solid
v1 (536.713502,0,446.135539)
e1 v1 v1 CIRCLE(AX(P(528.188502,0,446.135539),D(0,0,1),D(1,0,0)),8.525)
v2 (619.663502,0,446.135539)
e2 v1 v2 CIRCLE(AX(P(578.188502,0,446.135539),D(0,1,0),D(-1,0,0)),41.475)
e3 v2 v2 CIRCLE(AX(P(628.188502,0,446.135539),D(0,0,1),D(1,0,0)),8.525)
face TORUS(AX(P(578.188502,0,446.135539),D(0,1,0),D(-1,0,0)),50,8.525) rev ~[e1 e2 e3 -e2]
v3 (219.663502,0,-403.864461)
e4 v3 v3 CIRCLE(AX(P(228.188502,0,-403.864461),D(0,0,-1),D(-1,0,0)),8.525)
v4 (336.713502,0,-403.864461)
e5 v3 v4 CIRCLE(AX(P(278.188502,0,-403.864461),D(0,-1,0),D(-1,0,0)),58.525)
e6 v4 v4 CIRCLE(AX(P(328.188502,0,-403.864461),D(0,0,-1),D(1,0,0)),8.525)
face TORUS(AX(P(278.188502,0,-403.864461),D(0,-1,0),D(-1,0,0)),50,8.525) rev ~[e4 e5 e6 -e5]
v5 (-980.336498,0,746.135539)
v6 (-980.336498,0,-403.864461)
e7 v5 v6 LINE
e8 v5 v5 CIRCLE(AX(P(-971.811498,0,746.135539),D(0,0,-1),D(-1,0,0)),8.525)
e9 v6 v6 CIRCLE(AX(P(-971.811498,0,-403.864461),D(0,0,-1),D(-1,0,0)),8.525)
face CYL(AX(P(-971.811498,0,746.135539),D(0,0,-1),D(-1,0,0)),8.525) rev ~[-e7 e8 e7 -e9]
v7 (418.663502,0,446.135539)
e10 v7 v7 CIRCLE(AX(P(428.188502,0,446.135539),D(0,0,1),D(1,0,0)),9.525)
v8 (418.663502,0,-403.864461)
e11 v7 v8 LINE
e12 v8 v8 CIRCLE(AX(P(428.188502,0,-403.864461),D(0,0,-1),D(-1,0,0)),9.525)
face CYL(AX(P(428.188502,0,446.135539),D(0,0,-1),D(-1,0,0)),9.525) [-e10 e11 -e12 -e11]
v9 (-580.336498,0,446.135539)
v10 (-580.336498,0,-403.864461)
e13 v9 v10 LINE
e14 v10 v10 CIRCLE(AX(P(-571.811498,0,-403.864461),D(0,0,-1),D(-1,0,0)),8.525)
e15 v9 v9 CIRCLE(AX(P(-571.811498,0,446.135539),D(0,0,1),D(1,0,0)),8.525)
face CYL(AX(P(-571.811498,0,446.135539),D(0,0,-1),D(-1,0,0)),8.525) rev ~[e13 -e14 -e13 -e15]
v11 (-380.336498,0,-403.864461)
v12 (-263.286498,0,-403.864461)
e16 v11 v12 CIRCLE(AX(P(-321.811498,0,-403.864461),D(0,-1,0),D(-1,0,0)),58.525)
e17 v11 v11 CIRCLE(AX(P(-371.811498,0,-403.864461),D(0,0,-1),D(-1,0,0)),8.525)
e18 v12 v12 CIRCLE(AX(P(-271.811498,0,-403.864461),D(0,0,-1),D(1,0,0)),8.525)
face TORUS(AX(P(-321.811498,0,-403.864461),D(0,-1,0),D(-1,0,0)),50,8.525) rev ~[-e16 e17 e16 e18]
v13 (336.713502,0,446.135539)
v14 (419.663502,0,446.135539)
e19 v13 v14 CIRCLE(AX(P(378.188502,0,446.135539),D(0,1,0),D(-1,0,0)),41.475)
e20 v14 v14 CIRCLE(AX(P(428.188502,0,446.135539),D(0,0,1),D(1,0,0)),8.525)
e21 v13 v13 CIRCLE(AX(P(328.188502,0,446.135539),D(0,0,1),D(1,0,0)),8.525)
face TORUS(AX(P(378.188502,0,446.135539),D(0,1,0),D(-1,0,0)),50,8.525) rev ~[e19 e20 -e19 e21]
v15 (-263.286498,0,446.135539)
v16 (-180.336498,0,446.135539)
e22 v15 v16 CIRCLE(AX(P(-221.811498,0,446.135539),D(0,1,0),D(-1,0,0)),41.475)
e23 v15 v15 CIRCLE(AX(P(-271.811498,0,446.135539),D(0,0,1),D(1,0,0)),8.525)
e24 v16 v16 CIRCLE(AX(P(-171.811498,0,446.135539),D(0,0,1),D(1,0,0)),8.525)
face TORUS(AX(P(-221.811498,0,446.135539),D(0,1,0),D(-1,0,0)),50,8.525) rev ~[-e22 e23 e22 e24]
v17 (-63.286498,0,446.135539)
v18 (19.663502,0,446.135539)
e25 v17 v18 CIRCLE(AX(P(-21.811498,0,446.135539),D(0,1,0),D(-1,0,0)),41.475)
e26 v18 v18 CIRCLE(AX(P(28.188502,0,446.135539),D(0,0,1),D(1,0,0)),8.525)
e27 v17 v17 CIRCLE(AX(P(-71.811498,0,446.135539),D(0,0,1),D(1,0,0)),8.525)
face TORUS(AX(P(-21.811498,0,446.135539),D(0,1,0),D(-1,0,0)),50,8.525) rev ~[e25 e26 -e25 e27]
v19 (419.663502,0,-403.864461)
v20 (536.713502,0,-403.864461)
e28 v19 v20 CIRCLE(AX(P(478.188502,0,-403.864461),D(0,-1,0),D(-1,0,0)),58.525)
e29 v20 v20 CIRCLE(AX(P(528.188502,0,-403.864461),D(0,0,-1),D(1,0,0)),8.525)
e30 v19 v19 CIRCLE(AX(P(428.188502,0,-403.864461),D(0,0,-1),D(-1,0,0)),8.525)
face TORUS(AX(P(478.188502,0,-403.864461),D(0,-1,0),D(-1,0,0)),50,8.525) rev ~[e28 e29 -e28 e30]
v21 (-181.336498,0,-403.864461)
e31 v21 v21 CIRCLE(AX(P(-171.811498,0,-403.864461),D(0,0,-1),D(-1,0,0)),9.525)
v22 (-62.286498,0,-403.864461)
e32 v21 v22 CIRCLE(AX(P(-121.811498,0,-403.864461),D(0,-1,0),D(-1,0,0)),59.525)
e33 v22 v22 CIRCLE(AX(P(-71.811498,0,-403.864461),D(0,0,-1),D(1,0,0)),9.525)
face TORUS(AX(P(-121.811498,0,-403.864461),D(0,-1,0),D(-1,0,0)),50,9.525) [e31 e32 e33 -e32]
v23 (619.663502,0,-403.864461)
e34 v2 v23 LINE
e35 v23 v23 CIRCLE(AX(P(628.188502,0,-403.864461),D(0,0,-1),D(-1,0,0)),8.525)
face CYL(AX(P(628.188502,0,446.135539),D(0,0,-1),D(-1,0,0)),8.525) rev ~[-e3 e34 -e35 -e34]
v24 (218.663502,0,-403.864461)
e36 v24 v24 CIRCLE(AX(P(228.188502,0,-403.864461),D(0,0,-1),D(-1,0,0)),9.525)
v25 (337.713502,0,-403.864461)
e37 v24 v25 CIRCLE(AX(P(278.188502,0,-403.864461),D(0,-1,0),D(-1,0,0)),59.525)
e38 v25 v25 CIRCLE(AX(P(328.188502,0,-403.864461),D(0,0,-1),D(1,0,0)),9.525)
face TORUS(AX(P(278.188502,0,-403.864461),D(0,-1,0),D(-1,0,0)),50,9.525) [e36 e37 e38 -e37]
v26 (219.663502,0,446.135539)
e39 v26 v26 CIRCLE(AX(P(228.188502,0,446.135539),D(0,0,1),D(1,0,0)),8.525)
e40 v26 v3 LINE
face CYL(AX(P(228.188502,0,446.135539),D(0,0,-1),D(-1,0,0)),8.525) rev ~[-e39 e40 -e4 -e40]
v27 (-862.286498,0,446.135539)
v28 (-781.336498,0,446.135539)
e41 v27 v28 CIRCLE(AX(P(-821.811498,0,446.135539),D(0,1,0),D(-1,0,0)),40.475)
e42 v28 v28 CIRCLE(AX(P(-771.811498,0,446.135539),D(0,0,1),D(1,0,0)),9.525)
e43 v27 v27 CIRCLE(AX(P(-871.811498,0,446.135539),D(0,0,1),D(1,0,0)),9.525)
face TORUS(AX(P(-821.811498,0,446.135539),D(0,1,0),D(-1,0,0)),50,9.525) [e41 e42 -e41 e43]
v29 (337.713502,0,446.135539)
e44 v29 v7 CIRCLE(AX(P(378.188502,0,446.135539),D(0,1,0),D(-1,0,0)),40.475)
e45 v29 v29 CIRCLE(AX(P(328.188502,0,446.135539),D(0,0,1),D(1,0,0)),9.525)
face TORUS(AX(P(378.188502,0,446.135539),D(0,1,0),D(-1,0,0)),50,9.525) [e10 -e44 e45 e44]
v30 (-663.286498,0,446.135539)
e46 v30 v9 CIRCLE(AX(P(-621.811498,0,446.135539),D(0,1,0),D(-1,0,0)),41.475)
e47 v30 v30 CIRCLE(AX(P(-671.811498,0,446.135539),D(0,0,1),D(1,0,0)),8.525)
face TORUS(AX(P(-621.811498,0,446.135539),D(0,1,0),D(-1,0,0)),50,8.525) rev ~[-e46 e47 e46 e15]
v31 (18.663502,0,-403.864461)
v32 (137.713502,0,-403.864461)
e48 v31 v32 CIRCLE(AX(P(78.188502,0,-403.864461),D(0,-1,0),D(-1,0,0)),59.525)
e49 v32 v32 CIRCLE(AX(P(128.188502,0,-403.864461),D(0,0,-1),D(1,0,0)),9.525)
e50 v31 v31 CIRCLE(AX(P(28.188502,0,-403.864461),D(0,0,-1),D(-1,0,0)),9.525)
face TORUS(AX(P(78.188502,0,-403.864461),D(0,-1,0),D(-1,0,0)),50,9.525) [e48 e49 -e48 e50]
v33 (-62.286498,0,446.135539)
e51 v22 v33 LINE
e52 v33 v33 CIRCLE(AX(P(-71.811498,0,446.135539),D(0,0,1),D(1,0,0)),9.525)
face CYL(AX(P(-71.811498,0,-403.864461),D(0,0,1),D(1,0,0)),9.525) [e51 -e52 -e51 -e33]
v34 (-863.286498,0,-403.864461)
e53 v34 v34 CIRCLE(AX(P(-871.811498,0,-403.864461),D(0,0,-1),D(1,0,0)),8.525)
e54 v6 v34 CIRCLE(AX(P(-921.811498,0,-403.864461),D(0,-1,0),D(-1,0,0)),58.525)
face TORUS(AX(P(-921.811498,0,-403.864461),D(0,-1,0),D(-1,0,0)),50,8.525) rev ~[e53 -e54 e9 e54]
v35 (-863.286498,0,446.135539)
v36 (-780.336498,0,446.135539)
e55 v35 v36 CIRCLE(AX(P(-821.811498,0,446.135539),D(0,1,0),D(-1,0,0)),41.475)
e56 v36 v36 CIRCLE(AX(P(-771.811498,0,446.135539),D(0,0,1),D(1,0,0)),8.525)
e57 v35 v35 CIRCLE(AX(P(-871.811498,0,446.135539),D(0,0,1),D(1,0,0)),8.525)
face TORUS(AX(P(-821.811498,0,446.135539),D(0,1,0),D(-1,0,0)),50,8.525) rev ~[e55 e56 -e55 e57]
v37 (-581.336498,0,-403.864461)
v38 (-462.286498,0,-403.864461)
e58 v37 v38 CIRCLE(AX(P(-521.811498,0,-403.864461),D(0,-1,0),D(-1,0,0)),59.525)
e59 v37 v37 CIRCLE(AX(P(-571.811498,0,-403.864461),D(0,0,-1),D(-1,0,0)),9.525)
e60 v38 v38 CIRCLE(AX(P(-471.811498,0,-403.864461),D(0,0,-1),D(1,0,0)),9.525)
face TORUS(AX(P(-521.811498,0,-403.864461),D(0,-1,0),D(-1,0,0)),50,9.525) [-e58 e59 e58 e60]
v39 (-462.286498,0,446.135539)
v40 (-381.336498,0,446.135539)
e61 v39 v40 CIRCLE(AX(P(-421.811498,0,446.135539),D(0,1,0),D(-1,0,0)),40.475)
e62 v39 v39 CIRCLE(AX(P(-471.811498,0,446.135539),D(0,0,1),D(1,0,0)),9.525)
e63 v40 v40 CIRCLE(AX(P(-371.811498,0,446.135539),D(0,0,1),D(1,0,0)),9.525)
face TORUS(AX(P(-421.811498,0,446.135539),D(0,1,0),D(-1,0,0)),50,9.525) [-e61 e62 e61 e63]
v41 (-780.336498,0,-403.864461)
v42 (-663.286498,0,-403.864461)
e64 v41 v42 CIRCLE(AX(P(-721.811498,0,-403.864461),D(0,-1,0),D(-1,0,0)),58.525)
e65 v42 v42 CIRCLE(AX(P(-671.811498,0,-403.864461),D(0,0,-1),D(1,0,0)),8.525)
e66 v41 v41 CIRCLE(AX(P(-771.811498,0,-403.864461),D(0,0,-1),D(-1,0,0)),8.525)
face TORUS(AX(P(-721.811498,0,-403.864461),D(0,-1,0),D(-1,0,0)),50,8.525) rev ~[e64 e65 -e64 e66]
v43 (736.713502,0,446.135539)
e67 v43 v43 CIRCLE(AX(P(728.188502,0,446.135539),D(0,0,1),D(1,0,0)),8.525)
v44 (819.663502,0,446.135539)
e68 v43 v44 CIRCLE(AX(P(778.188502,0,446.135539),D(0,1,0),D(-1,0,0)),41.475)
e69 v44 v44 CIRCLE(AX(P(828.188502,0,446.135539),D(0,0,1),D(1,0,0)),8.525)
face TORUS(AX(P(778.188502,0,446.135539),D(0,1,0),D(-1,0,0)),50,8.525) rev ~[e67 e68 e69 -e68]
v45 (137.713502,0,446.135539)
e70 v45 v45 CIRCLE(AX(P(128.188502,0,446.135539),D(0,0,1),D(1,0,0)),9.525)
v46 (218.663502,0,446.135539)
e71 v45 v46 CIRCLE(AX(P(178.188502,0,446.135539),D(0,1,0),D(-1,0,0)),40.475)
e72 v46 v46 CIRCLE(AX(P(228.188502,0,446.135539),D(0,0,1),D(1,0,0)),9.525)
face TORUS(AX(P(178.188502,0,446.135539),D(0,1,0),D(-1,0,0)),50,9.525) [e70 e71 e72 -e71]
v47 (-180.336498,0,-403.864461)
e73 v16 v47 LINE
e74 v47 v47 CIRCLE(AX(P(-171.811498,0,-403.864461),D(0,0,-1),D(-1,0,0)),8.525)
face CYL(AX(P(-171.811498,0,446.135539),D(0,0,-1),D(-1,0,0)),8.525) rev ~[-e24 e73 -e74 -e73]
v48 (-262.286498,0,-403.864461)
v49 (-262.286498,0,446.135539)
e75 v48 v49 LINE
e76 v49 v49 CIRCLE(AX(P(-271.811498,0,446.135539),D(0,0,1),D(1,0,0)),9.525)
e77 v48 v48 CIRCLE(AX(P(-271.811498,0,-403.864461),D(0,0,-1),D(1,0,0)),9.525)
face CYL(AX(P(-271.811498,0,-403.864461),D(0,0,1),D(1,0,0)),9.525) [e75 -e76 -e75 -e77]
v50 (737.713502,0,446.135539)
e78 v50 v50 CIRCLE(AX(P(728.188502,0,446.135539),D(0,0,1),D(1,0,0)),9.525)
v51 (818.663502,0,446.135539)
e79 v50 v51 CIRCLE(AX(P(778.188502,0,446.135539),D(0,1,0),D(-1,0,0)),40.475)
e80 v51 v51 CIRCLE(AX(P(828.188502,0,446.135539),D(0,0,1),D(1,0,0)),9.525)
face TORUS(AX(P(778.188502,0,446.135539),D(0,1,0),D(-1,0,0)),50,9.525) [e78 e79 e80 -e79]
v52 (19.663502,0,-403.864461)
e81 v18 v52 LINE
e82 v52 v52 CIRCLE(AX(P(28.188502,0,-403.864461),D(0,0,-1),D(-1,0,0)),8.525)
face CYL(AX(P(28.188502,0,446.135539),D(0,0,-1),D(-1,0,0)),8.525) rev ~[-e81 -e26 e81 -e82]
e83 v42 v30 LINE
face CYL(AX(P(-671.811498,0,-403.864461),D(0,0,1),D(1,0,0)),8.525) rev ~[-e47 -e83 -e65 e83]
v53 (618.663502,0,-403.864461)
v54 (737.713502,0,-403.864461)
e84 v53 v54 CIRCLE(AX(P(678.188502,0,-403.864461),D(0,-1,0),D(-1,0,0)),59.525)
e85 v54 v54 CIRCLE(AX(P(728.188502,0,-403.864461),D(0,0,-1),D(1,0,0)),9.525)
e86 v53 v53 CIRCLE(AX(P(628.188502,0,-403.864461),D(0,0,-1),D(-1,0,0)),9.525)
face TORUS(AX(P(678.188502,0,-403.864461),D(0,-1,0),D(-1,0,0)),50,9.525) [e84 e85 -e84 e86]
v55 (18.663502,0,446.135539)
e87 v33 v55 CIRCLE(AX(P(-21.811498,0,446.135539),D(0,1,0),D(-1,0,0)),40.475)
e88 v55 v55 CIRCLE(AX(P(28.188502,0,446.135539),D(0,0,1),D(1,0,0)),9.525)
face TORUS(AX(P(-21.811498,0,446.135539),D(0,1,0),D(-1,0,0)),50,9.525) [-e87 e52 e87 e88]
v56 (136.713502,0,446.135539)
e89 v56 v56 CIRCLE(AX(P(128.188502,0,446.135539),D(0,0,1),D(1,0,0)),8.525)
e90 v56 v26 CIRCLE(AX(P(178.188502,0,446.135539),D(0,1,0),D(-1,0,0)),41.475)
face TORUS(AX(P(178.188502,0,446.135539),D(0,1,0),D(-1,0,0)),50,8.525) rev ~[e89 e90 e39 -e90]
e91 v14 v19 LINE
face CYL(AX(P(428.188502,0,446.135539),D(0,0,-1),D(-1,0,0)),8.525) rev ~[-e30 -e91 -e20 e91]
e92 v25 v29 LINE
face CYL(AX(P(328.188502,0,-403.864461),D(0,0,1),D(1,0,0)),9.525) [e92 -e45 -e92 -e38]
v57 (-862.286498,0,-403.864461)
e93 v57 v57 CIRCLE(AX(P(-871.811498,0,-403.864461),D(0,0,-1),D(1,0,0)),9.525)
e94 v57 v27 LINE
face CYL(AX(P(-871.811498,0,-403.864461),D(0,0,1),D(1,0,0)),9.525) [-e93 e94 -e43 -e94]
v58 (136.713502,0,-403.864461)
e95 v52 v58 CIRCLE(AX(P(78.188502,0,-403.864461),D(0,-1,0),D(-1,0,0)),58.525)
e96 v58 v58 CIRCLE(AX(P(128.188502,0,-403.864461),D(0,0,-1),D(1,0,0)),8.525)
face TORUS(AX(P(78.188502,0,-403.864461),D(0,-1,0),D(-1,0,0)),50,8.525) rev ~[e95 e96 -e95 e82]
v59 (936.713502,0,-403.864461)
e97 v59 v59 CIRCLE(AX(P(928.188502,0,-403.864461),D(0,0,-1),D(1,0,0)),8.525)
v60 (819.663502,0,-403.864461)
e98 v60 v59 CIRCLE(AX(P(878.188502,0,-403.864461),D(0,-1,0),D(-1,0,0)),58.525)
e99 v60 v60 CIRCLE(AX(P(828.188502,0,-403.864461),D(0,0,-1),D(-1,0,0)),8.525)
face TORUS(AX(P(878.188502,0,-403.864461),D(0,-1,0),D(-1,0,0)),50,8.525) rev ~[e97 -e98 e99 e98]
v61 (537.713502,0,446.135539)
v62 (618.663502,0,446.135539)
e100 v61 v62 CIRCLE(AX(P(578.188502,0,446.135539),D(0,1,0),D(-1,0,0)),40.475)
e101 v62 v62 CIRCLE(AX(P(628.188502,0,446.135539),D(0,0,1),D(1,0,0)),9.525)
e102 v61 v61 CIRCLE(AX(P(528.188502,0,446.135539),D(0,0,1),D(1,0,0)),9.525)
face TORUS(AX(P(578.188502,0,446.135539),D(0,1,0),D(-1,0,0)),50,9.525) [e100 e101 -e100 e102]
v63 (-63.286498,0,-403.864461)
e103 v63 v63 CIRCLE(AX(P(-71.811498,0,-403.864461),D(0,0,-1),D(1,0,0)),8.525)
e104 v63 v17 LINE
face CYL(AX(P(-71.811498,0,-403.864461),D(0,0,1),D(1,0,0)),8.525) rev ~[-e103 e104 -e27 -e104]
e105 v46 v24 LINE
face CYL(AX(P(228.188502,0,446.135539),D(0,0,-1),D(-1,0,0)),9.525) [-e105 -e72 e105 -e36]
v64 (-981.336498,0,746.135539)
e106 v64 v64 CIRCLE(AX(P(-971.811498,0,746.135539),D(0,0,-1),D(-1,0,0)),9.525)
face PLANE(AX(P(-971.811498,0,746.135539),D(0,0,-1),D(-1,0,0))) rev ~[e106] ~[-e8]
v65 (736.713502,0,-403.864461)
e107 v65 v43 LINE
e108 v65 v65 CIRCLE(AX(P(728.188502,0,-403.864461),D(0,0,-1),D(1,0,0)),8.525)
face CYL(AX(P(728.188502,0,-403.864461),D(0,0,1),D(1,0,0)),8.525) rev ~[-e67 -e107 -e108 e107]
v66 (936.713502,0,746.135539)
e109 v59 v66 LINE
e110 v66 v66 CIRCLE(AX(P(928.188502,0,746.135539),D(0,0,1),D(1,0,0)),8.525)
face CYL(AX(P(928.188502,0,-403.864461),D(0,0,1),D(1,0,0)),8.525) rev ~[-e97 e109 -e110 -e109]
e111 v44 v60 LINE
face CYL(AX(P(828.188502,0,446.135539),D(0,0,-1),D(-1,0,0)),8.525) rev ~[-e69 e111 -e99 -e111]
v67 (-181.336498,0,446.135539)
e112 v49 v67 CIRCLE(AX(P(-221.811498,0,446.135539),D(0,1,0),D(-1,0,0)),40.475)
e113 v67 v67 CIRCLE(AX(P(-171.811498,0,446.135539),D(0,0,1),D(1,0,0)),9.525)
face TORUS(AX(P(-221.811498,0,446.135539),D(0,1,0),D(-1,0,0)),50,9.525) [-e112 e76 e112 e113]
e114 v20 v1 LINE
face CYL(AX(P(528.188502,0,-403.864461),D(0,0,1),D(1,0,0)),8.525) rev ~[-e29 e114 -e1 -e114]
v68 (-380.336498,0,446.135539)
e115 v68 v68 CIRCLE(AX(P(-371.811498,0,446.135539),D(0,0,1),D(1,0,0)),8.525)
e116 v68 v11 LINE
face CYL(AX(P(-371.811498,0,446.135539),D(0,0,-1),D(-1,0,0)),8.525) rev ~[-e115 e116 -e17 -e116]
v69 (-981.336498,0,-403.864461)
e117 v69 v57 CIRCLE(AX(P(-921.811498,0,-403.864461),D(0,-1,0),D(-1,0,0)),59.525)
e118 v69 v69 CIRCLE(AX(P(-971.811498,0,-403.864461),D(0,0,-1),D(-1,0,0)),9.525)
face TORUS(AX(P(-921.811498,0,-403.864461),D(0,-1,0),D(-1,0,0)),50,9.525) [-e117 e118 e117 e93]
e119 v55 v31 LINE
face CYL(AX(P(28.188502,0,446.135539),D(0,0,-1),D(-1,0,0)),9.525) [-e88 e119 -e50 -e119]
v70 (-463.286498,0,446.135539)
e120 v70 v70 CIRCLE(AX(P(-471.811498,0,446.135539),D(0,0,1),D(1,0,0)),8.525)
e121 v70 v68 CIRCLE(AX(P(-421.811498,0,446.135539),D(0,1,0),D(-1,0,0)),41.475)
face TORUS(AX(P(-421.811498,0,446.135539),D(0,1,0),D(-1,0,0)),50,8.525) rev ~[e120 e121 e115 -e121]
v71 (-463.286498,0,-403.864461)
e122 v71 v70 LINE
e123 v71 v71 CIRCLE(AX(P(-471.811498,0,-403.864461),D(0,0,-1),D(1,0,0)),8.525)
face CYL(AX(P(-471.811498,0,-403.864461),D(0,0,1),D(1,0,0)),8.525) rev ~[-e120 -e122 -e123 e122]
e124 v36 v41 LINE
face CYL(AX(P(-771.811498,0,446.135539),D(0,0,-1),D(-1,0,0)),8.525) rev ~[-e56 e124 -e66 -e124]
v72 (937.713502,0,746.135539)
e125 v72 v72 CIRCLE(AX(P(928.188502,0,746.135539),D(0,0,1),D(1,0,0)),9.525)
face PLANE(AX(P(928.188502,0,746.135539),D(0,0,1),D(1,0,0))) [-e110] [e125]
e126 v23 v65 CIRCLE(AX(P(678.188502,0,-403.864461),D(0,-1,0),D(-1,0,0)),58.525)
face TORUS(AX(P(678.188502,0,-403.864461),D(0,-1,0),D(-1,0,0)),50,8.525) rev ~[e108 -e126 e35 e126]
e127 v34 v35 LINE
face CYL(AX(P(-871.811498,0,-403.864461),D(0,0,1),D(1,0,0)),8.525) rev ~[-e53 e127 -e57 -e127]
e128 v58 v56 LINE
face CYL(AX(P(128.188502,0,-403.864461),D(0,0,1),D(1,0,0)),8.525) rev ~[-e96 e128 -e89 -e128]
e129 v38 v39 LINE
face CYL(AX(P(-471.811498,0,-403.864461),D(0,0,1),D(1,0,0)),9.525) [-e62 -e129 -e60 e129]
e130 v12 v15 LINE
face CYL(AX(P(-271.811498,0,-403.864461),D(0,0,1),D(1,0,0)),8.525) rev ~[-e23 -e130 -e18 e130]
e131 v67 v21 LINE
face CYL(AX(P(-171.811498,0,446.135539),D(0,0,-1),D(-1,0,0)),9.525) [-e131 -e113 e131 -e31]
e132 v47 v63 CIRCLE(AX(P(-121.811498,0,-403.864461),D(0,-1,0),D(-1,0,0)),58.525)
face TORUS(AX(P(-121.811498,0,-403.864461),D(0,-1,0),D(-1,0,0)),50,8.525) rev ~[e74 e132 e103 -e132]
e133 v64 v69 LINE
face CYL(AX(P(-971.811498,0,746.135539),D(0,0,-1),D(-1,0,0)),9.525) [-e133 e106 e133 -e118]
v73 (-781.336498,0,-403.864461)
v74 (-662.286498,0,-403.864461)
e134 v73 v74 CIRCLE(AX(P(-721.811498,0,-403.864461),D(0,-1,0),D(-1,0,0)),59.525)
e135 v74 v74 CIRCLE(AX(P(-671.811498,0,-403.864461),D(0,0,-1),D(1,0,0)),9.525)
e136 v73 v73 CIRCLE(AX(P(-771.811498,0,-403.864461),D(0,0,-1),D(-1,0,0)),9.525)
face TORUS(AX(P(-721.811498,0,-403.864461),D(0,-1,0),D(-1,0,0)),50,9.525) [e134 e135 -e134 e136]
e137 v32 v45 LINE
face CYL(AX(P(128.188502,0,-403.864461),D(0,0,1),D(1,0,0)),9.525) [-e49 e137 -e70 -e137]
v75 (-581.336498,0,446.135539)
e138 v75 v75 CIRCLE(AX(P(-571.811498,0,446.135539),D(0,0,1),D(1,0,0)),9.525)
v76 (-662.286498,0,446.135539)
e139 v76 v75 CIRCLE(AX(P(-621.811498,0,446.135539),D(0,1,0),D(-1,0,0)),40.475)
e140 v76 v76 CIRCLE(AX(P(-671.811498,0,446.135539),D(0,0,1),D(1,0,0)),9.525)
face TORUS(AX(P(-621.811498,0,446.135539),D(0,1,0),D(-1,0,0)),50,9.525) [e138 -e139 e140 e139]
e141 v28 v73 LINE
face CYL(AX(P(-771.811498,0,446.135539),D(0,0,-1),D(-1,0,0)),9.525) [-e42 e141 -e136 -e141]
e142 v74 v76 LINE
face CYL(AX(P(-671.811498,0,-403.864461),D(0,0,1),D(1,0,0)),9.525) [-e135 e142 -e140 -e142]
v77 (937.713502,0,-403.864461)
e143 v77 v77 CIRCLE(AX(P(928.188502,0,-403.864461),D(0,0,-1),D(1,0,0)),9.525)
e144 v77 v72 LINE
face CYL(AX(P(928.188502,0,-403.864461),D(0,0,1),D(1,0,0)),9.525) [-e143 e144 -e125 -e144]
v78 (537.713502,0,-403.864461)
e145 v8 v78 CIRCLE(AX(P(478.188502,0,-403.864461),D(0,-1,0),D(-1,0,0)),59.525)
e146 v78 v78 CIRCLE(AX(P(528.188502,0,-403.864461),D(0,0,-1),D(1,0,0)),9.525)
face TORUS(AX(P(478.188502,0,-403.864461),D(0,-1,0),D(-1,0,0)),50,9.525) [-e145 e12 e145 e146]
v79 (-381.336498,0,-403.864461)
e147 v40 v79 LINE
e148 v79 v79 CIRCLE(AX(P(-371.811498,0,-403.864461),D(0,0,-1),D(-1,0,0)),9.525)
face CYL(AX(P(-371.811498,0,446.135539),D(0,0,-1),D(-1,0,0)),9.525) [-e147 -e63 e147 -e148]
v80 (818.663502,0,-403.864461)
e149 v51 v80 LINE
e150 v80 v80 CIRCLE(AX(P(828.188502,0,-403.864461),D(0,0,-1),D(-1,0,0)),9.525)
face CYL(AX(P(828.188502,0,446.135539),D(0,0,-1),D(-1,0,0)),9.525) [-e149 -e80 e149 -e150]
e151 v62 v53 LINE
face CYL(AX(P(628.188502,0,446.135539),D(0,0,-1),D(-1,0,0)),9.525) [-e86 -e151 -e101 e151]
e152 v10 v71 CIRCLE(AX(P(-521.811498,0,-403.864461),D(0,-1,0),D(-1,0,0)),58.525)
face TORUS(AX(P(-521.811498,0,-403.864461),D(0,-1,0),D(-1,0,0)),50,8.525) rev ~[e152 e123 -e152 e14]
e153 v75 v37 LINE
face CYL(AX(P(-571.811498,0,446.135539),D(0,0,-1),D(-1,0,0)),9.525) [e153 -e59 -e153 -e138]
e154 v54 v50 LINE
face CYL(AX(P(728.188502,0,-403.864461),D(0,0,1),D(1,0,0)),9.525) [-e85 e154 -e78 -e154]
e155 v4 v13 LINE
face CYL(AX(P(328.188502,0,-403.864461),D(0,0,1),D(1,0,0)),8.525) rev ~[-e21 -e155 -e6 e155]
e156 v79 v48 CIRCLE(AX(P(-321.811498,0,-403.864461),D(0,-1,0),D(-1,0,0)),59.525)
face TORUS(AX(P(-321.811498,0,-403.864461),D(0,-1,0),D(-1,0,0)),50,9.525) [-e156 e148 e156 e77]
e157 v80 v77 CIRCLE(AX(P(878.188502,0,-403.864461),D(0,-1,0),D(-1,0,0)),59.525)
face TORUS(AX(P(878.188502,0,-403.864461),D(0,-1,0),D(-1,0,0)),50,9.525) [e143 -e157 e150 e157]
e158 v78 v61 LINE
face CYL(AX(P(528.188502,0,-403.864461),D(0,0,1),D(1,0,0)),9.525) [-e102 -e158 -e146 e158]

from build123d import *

# Parameters (mm, degrees)
SWEEP_THIN1_PROFILE_R   = 9.525
SWEEP_THIN1_PROFILE_R_2 = 8.525


with BuildPart() as part:
    # Sweep-Thin1: sweep along a path in Sketch4
    with BuildLine(Plane(origin=(0, 0, 0), x_dir=(1, 0, 0), z_dir=(0, 1, 0))) as sweep_thin1_path:
        Line((-971.811497652, -746.135539322), (-971.811497652, -446.135539322))
        Line((-971.811497652, -446.135539322), (-971.811497652, 403.864460678))
        ThreePointArc((-971.811497652, 403.864460678), (-921.811497652, 453.864460678), (-871.811497652, 403.864460678))
        Line((-871.811497652, 403.864460678), (-871.811497652, -446.135539322))
        ThreePointArc((-871.811497652, -446.135539322), (-821.811497652, -496.135539322), (-771.811497652, -446.135539322))
        Line((-771.811497652, -446.135539322), (-771.811497652, 403.864460678))
        ThreePointArc((-771.811497652, 403.864460678), (-721.811497652, 453.864460678), (-671.811497652, 403.864460678))
        Line((-671.811497652, 403.864460678), (-671.811497652, -446.135539322))
        ThreePointArc((-671.811497652, -446.135539322), (-621.811497652, -496.135539322), (-571.811497652, -446.135539322))
        Line((-571.811497652, -446.135539322), (-571.811497652, 403.864460678))
        ThreePointArc((-571.811497652, 403.864460678), (-521.811497652, 453.864460678), (-471.811497652, 403.864460678))
        Line((-471.811497652, 403.864460678), (-471.811497652, -446.135539322))
        ThreePointArc((-471.811497652, -446.135539322), (-421.811497652, -496.135539322), (-371.811497652, -446.135539322))
        Line((-371.811497652, -446.135539322), (-371.811497652, 403.864460678))
        ThreePointArc((-371.811497652, 403.864460678), (-321.811497652, 453.864460678), (-271.811497652, 403.864460678))
        Line((-271.811497652, 403.864460678), (-271.811497652, -446.135539322))
        ThreePointArc((-271.811497652, -446.135539322), (-221.811497652, -496.135539322), (-171.811497652, -446.135539322))
        Line((-171.811497652, -446.135539322), (-171.811497652, 403.864460678))
        ThreePointArc((-171.811497652, 403.864460678), (-121.811497652, 453.864460678), (-71.811497652, 403.864460678))
        Line((-71.811497652, 403.864460678), (-71.811497652, -446.135539322))
        ThreePointArc((-71.811497652, -446.135539322), (-21.811497652, -496.135539322), (28.188502348, -446.135539322))
        Line((28.188502348, -446.135539322), (28.188502348, 403.864460678))
        ThreePointArc((28.188502348, 403.864460678), (78.188502348, 453.864460678), (128.188502348, 403.864460678))
        Line((128.188502348, 403.864460678), (128.188502348, -446.135539322))
        ThreePointArc((128.188502348, -446.135539322), (178.188502348, -496.135539322), (228.188502348, -446.135539322))
        Line((228.188502348, -446.135539322), (228.188502348, 403.864460678))
        ThreePointArc((228.188502348, 403.864460678), (278.188502348, 453.864460678), (328.188502348, 403.864460678))
        Line((328.188502348, 403.864460678), (328.188502348, -446.135539322))
        ThreePointArc((328.188502348, -446.135539322), (378.188502347, -496.135539322), (428.188502347, -446.135539322))
        Line((428.188502347, -446.135539322), (428.188502347, 403.864460678))
        ThreePointArc((428.188502347, 403.864460678), (478.188502347, 453.864460678), (528.188502347, 403.864460678))
        Line((528.188502347, 403.864460678), (528.188502347, -446.135539322))
        ThreePointArc((528.188502347, -446.135539322), (578.188502347, -496.135539322), (628.188502347, -446.135539322))
        Line((628.188502347, -446.135539322), (628.188502347, 403.864460678))
        ThreePointArc((628.188502347, 403.864460678), (678.188502347, 453.864460678), (728.188502347, 403.864460678))
        Line((728.188502347, 403.864460678), (728.188502347, -446.135539322))
        ThreePointArc((728.188502347, -446.135539322), (778.188502347, -496.135539322), (828.188502347, -446.135539322))
        Line((828.188502347, -446.135539322), (828.188502347, 403.864460678))
        ThreePointArc((828.188502347, 403.864460678), (878.188502347, 453.864460678), (928.188502347, 403.864460678))
        Line((928.188502347, 403.864460678), (928.188502347, -446.135539322))
        Line((928.188502347, -446.135539322), (928.188502347, -746.135539322))
    # Sweep-Thin1 profile (on start of the path) → Sweep-Thin1 (sweep)
    with BuildSketch(Plane(origin=(-971.811497652, 0, 746.135539322), x_dir=(-1, 0, 0), z_dir=(0, 0, -1))):
        Circle(SWEEP_THIN1_PROFILE_R)
        Circle(SWEEP_THIN1_PROFILE_R_2, mode=Mode.SUBTRACT)
    sweep(path=sweep_thin1_path.line)


solid = part.part
